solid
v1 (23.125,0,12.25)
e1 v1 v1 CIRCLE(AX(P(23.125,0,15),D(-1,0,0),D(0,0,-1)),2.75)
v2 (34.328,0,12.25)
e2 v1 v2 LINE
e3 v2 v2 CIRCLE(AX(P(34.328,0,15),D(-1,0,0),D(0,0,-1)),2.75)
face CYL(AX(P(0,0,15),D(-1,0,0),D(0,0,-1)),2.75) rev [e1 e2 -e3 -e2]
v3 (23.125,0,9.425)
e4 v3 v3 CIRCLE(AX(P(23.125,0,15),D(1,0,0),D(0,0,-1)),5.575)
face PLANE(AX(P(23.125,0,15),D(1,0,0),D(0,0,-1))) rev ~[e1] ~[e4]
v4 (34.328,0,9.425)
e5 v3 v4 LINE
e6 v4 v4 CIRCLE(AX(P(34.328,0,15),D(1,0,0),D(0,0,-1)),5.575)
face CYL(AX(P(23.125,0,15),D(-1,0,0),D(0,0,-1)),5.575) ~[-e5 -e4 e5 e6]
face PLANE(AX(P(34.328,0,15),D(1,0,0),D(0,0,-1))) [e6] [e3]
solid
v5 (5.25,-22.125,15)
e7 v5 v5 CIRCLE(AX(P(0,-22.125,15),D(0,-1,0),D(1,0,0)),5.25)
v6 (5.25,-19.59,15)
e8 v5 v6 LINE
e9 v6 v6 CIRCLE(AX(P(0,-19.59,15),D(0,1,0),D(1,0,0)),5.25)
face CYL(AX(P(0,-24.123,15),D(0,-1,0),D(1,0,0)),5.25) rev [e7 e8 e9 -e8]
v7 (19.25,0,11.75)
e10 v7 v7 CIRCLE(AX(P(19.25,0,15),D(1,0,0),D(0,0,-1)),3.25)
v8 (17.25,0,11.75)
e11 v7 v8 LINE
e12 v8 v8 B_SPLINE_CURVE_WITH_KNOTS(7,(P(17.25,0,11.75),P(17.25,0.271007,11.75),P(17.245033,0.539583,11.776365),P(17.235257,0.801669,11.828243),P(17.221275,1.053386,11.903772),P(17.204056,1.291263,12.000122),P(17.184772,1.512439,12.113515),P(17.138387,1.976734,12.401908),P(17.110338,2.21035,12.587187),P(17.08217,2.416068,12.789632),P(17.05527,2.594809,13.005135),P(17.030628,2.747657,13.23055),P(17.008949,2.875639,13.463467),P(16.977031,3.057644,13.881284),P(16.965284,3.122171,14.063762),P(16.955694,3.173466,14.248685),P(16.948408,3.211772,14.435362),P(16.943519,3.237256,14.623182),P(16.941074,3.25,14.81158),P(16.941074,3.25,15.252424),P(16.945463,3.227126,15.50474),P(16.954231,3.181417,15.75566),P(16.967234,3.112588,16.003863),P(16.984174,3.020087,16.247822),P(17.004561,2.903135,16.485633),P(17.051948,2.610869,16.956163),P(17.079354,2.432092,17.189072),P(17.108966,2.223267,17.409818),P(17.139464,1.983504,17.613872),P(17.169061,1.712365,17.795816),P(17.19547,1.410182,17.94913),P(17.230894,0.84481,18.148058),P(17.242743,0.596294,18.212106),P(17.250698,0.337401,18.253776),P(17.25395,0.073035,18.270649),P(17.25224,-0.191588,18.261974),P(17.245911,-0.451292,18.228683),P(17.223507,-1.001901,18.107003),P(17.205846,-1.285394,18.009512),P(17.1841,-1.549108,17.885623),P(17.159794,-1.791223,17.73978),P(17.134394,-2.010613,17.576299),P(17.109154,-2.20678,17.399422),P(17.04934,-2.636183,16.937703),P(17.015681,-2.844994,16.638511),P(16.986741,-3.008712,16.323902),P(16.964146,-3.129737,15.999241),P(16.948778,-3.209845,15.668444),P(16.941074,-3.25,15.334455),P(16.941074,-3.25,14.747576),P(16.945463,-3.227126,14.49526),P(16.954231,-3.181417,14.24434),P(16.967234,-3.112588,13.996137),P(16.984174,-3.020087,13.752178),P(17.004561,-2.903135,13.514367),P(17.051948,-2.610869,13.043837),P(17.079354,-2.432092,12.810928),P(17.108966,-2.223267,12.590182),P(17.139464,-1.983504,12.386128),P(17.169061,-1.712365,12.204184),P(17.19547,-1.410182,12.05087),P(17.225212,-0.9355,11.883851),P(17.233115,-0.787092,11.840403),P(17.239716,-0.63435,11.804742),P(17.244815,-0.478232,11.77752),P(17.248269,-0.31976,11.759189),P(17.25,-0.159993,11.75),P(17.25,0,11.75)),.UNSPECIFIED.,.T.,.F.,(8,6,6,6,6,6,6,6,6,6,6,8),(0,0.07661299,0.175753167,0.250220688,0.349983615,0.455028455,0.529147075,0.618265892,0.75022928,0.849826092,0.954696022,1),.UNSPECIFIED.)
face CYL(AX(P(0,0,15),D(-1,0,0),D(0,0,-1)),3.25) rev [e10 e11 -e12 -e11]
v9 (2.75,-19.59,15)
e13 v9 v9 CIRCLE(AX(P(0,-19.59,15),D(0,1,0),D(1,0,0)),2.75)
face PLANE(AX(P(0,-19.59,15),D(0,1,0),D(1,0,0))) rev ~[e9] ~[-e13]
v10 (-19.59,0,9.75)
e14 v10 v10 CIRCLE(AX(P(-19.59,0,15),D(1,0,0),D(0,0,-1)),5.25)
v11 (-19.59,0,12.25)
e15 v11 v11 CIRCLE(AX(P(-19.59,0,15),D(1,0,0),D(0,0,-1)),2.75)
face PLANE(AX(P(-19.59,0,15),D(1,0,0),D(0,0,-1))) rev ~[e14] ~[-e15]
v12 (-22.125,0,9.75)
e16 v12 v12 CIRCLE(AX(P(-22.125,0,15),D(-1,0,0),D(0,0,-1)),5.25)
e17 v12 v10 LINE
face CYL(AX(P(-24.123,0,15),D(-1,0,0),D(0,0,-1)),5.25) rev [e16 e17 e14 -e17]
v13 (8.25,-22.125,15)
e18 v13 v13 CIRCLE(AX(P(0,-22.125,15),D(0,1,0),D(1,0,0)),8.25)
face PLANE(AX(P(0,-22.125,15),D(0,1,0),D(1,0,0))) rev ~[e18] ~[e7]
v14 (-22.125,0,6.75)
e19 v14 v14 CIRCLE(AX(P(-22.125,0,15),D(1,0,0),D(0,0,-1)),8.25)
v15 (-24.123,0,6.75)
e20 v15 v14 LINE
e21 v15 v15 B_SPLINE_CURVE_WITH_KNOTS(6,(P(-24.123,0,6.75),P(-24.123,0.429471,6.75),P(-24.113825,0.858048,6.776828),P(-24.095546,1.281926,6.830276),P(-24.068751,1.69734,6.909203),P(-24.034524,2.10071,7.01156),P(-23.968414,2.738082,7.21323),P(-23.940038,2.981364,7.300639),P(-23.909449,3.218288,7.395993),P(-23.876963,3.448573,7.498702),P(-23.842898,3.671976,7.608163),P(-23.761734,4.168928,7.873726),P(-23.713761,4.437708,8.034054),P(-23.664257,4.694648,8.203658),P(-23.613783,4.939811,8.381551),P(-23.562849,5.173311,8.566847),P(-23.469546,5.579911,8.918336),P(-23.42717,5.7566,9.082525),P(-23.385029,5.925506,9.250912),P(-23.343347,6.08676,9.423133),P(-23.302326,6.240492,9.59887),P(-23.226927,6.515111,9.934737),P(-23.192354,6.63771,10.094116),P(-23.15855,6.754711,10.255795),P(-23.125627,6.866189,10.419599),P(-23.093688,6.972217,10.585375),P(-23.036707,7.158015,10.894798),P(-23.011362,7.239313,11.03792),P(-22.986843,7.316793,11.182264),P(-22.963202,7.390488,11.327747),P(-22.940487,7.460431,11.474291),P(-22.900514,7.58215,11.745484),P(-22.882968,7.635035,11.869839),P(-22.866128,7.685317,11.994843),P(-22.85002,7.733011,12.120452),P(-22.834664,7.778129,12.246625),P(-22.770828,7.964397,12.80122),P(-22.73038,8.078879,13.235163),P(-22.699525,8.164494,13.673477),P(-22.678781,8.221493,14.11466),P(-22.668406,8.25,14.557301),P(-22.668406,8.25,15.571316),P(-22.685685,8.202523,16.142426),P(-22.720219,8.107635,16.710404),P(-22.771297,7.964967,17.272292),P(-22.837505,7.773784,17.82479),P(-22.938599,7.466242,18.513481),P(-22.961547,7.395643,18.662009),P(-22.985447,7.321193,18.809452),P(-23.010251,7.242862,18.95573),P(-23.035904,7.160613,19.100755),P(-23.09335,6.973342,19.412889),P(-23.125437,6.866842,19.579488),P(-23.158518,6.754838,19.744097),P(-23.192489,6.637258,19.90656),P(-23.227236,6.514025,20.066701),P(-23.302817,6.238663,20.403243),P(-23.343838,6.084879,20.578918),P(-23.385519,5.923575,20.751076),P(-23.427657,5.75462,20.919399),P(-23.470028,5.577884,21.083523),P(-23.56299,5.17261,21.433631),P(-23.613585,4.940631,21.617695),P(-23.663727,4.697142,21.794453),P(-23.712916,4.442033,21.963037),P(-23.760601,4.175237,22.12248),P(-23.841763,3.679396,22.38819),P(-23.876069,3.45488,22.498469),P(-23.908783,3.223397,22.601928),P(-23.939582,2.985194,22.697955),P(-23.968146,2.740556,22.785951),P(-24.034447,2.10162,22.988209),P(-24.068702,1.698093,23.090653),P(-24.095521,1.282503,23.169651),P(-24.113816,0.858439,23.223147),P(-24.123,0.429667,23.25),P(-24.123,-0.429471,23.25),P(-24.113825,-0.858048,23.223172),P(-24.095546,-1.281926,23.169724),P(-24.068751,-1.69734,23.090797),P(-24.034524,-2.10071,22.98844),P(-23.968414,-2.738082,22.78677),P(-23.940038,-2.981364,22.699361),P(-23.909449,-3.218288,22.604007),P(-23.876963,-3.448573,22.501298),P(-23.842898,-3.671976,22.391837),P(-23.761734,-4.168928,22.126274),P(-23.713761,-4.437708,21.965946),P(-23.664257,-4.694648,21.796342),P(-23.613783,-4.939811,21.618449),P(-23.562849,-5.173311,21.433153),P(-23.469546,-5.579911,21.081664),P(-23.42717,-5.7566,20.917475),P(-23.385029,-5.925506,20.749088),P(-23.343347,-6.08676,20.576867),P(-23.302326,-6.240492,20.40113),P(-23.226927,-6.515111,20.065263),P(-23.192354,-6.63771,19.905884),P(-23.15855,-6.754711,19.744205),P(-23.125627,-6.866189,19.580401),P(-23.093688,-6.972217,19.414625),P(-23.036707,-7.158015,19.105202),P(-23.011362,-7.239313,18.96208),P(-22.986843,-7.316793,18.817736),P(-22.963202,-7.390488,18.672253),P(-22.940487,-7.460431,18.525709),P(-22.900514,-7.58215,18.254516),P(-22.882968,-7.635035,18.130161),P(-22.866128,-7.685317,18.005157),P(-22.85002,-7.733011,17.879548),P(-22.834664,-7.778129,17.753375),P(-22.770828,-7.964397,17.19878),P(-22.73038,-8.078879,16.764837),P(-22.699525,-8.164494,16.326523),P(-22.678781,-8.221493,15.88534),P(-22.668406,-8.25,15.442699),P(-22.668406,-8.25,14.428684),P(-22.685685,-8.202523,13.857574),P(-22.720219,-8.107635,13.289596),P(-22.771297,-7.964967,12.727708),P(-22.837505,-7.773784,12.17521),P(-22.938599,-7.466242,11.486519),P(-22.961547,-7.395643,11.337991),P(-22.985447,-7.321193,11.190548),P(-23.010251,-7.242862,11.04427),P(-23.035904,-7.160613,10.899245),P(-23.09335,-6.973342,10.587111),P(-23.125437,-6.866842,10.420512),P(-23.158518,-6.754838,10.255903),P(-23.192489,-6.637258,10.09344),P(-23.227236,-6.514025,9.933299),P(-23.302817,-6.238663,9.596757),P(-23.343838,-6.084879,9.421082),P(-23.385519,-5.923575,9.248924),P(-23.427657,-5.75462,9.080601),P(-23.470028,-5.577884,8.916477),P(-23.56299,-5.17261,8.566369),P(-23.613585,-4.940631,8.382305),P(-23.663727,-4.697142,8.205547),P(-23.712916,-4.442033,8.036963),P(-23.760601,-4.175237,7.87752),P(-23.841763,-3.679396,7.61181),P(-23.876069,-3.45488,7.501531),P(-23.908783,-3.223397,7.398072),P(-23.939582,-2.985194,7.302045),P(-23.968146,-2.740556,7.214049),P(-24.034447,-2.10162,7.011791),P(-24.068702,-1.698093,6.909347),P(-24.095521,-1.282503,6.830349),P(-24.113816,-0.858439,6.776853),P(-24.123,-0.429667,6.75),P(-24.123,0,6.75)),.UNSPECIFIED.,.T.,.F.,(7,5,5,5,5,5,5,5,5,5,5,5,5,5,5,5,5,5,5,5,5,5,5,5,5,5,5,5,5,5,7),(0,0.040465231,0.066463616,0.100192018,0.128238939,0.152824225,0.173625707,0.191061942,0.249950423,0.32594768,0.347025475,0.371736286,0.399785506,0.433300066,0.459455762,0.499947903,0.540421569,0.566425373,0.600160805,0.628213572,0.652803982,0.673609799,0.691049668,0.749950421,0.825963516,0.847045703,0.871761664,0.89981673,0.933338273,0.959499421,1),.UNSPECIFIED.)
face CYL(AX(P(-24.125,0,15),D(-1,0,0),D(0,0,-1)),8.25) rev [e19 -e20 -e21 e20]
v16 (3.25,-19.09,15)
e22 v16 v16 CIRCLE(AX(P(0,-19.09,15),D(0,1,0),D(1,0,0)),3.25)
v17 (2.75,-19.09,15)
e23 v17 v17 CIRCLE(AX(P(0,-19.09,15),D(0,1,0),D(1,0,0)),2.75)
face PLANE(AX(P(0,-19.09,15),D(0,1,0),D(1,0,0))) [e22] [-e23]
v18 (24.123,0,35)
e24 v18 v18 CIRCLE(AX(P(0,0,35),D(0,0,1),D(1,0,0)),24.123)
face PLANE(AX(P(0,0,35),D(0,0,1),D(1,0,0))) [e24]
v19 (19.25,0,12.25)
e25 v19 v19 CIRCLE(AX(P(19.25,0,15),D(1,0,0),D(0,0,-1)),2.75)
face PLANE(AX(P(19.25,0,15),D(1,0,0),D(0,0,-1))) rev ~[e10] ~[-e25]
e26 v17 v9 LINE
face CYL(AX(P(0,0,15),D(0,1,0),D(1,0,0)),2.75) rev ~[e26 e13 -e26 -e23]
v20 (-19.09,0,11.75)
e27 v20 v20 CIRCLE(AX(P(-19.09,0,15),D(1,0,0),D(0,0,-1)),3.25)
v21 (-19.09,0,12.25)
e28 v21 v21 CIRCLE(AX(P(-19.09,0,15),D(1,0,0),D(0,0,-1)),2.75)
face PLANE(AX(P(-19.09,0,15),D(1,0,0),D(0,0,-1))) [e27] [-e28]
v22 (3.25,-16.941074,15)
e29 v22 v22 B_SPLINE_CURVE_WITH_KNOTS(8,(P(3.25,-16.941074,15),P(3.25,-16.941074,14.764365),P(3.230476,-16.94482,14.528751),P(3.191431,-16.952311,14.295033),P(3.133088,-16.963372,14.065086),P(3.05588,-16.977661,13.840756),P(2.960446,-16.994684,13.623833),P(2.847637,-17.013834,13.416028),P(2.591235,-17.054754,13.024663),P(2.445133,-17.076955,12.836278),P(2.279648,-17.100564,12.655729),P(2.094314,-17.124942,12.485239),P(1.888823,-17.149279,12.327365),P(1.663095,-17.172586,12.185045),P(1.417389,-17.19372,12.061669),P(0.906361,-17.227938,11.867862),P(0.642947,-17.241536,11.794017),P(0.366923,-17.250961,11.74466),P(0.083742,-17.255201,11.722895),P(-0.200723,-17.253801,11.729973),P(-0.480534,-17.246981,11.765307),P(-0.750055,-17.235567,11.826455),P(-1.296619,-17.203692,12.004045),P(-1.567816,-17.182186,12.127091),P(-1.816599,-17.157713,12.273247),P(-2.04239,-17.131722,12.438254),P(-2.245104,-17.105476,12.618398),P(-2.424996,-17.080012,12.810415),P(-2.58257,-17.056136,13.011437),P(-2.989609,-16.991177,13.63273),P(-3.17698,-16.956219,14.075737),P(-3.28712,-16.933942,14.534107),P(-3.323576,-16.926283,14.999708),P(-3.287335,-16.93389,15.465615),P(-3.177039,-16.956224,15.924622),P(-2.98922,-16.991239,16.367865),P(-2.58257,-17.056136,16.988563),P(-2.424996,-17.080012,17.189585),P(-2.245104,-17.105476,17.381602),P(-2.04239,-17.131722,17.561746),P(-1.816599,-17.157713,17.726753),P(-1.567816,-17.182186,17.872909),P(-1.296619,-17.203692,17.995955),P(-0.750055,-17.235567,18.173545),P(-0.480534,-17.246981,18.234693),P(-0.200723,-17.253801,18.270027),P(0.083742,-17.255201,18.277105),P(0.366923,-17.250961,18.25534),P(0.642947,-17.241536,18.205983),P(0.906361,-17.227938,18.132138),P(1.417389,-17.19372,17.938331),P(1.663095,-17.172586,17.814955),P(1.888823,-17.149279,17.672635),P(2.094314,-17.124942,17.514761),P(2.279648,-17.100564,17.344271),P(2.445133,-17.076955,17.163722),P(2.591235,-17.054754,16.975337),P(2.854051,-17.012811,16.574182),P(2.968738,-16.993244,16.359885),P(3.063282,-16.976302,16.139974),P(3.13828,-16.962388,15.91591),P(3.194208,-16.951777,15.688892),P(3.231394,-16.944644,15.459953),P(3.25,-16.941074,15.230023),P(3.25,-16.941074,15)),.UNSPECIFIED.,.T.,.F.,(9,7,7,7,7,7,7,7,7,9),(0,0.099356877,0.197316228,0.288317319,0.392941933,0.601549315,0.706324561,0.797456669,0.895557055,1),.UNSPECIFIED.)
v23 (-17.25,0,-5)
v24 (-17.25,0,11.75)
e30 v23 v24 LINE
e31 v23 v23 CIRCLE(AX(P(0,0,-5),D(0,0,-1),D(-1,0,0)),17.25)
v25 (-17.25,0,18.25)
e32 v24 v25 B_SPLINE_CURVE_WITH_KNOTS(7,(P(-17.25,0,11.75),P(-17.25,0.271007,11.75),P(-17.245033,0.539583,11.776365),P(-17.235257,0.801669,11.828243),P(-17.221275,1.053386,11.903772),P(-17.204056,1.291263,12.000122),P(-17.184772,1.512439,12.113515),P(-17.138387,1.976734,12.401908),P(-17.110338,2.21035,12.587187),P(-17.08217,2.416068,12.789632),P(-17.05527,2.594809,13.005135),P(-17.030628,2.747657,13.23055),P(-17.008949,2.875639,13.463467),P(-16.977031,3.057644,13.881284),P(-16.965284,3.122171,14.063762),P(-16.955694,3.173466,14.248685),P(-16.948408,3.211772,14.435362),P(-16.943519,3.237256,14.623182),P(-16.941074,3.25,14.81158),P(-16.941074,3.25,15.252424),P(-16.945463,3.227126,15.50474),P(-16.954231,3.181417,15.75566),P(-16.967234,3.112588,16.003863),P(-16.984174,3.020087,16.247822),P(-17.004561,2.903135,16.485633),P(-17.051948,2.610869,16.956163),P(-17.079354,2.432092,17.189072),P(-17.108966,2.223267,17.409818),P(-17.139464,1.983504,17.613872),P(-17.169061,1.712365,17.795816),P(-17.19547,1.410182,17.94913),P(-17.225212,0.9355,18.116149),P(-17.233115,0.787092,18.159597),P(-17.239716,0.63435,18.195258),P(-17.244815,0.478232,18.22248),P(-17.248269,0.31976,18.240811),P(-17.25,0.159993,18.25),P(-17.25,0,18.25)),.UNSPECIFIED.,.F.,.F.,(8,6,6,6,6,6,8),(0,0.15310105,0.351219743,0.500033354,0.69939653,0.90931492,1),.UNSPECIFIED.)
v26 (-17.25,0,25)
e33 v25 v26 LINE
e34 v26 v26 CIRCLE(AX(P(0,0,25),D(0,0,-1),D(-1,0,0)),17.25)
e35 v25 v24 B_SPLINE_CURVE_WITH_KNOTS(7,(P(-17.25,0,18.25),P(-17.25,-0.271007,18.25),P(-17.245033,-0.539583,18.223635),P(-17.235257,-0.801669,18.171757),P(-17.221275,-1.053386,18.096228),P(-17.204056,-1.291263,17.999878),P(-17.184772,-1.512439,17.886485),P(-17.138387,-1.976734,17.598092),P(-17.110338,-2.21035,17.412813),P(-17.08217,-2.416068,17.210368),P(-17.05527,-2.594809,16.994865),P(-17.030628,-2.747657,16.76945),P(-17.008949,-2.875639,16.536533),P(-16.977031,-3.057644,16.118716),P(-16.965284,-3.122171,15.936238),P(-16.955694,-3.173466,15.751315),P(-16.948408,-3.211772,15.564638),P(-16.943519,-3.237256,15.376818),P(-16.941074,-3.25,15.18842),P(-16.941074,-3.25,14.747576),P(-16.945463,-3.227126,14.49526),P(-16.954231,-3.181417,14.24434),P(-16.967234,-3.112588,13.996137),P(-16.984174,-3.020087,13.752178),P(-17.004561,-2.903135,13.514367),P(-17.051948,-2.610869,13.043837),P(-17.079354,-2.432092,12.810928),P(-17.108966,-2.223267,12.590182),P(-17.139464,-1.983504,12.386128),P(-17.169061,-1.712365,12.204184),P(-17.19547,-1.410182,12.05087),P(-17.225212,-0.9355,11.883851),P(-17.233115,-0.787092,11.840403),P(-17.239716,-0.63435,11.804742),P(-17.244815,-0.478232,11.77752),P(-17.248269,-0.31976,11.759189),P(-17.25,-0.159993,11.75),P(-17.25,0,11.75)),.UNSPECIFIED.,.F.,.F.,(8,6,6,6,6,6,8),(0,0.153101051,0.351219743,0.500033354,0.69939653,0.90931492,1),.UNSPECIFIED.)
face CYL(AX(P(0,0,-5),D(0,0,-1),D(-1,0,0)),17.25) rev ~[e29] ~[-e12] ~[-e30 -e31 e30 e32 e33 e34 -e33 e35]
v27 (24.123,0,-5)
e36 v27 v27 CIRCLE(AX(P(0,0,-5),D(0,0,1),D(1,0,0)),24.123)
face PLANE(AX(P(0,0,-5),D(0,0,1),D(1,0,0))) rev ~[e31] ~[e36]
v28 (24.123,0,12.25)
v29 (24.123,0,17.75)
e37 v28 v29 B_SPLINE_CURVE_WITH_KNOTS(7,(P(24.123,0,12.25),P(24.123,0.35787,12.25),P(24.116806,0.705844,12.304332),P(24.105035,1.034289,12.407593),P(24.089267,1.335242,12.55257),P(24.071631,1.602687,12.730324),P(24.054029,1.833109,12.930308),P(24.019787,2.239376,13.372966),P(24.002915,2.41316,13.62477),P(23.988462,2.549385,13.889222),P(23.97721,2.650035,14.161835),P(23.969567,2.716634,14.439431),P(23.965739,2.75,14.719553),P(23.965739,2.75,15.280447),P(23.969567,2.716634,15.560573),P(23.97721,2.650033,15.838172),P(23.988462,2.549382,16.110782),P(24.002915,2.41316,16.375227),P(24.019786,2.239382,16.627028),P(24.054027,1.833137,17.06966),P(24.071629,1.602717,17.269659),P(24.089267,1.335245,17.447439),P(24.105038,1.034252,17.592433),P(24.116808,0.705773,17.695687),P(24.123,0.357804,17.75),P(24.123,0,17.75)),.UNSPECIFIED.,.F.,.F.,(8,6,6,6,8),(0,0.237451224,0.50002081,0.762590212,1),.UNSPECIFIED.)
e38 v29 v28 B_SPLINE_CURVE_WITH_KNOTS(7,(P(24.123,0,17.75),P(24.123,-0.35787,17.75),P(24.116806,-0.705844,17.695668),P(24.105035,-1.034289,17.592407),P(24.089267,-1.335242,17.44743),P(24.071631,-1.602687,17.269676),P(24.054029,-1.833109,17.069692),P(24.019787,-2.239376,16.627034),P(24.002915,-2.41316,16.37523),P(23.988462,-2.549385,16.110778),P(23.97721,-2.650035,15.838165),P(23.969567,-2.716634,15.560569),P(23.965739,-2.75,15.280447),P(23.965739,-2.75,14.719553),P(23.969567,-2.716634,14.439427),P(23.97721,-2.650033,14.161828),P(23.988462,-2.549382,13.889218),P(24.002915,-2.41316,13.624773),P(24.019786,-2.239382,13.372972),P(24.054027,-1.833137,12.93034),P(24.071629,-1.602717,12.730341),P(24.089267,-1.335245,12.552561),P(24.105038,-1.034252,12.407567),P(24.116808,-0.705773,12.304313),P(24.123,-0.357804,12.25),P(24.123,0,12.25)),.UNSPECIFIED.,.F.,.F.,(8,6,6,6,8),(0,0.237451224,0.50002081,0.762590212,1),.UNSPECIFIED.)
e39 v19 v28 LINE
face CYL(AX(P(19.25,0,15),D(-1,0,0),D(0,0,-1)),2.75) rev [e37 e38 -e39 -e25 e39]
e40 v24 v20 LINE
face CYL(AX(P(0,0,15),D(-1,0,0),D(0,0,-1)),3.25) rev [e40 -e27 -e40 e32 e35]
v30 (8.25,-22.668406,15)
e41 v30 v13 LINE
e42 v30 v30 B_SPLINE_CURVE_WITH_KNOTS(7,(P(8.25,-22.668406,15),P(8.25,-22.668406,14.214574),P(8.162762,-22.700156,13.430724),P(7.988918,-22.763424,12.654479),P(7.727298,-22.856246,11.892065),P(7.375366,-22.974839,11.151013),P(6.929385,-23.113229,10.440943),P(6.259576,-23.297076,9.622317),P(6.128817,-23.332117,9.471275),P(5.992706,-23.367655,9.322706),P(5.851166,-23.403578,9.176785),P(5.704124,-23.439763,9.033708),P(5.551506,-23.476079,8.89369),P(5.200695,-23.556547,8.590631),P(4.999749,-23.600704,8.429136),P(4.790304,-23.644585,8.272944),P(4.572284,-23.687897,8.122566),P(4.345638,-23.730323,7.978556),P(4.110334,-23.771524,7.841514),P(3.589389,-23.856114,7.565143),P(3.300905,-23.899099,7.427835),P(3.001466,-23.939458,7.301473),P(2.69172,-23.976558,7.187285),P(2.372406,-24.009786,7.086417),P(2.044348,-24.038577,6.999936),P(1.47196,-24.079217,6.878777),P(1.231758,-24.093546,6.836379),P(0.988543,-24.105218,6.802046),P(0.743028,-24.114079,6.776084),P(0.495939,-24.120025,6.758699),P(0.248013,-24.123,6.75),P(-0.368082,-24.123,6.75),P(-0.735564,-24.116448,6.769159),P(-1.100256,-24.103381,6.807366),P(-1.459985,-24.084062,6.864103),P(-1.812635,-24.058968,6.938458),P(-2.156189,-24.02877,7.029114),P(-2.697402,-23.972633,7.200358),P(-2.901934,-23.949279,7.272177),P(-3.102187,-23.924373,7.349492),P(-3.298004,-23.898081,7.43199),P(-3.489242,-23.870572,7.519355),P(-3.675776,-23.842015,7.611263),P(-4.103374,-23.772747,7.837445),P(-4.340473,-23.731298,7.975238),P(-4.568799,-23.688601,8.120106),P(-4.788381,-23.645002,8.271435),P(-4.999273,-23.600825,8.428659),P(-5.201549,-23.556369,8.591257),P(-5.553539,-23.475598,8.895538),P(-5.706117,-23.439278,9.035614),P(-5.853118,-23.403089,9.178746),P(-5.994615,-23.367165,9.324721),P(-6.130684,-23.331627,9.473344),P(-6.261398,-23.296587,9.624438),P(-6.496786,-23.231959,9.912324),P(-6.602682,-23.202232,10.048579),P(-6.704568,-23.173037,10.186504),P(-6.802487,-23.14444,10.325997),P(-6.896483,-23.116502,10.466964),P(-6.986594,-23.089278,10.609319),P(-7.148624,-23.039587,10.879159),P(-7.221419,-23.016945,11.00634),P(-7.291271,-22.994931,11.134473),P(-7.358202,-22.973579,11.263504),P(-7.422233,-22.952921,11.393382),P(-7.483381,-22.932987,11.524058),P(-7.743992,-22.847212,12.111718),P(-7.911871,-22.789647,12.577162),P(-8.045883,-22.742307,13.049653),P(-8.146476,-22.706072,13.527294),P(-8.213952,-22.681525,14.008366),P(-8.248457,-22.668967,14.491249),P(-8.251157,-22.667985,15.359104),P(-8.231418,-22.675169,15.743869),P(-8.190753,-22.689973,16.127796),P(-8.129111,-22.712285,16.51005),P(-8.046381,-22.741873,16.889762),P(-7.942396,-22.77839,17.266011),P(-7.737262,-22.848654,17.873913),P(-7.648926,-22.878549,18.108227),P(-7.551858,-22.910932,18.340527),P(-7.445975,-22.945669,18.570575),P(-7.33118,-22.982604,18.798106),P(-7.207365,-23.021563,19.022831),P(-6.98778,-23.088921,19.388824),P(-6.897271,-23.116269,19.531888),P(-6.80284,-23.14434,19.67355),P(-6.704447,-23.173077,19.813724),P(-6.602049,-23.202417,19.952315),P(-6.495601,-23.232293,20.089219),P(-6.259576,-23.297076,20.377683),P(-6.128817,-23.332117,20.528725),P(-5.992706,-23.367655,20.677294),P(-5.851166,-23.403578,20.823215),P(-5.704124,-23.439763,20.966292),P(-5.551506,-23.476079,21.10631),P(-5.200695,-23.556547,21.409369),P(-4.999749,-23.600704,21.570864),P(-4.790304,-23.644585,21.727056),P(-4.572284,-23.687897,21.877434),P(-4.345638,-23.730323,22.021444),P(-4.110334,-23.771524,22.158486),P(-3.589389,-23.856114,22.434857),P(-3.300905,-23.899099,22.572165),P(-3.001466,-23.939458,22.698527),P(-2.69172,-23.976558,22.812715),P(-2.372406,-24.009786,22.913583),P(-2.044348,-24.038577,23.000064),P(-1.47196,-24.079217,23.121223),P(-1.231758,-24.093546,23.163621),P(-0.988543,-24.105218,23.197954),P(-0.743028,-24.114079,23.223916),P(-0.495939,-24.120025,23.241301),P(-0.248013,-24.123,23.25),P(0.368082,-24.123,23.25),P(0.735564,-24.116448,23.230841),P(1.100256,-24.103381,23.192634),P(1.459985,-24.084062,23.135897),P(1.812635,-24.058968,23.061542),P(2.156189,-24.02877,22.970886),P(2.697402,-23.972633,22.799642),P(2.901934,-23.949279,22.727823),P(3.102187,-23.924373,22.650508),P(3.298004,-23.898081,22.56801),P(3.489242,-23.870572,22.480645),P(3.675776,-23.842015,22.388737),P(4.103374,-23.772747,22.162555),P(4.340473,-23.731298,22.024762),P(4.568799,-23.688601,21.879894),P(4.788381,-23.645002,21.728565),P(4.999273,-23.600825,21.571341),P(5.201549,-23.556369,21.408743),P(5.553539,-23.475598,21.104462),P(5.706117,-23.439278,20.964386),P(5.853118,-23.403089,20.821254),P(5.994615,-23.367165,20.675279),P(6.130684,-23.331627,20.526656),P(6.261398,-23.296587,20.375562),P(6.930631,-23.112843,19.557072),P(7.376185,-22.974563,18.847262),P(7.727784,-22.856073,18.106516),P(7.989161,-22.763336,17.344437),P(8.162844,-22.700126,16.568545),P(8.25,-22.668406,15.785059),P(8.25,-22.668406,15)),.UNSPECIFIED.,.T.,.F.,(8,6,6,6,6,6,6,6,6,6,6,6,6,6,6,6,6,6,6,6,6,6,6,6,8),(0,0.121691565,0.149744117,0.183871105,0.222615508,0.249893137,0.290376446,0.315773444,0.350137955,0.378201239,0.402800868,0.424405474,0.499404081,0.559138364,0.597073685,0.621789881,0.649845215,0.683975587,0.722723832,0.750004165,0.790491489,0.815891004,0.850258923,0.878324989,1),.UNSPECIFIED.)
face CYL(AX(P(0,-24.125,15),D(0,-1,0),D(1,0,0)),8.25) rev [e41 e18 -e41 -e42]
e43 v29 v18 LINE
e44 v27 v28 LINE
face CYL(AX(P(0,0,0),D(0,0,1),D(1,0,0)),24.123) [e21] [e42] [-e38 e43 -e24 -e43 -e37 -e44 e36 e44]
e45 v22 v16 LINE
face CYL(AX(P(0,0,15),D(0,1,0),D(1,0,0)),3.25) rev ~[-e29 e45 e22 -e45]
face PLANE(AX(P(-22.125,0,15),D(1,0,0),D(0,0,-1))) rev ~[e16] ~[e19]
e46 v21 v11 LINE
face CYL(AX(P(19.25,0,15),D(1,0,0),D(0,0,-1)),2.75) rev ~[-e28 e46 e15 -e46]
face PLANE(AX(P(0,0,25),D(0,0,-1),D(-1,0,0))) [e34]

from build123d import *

# Parameters (mm, degrees)
SKETCH1_R                = 24.123
BOSS_EXTRUDE1_DEPTH      = 35
BOSS_EXTRUDE1_DEPTH_BACK = 5
SKETCH2_R                = 3.25
CUT_EXTRUDE2_DEPTH       = 19.25
CUT_EXTRUDE2_DEPTH_BACK  = 19.09
SKETCH4_R                = 3.25
CUT_EXTRUDE3_DEPTH       = 19.09
CUT_EXTRUDE8_START       = -24.123
SKETCH5_R                = 5.25
CUT_EXTRUDE8_DEPTH       = 4.533
CUT_EXTRUDE9_START       = -24.123
SKETCH6_R                = 5.25
CUT_EXTRUDE9_DEPTH       = 4.533
SKETCH7_R                = 17.25
CUT_EXTRUDE10_DEPTH      = 30
CUT_EXTRUDE11_START      = 19.25
SKETCH8_R                = 2.75
CUT_EXTRUDE11_DEPTH      = 24.873
CUT_EXTRUDE11_DEPTH_BACK = 50
BOSS_EXTRUDE2_START      = 23.125
SKETCH9_R                = 5.575
BOSS_EXTRUDE2_DEPTH      = 11.203
CUT_EXTRUDE12_DEPTH      = 50
CUT_EXTRUDE13_START      = -24.125
SKETCH11_R               = 8.25
CUT_EXTRUDE13_DEPTH      = 2
CUT_EXTRUDE14_START      = -24.125
SKETCH12_R               = 8.25
CUT_EXTRUDE14_DEPTH      = 2
SKETCH13_R               = 2.75
CUT_EXTRUDE15_DEPTH      = 30


with BuildPart() as part:
    # Sketch1 → Boss-Extrude1 (new body, two sides)
    with BuildSketch(Plane.XY) as boss_extrude1_sk:
        Circle(SKETCH1_R)
    extrude(amount=BOSS_EXTRUDE1_DEPTH)
    extrude(boss_extrude1_sk.sketch, amount=-BOSS_EXTRUDE1_DEPTH_BACK)

    # Sketch2 → Cut-Extrude2 (cut, two sides)
    with BuildSketch(Plane(origin=(0, 0, 0), x_dir=(0, 0, -1), z_dir=(1, 0, 0))) as cut_extrude2_sk:
        with Locations((-15, 0)):
            Circle(SKETCH2_R)
    extrude(amount=CUT_EXTRUDE2_DEPTH, mode=Mode.SUBTRACT)
    extrude(cut_extrude2_sk.sketch, amount=-CUT_EXTRUDE2_DEPTH_BACK, mode=Mode.SUBTRACT)

    # Sketch4 → Cut-Extrude3 (cut)
    with BuildSketch(Plane(origin=(0, 0, 0), x_dir=(1, 0, 0), z_dir=(0, 1, 0))):
        with Locations((0, -15)):
            Circle(SKETCH4_R)
    extrude(amount=-CUT_EXTRUDE3_DEPTH, mode=Mode.SUBTRACT)

    # Sketch5 → Cut-Extrude8 (cut)
    with BuildSketch(Plane(origin=(0, 0, 0), x_dir=(0, 0, -1), z_dir=(1, 0, 0)).offset(CUT_EXTRUDE8_START)):
        with Locations((-15, 0)):
            Circle(SKETCH5_R)
    extrude(amount=CUT_EXTRUDE8_DEPTH, mode=Mode.SUBTRACT)

    # Sketch6 → Cut-Extrude9 (cut)
    with BuildSketch(Plane(origin=(0, 0, 0), x_dir=(1, 0, 0), z_dir=(0, 1, 0)).offset(CUT_EXTRUDE9_START)):
        with Locations((0, -15)):
            Circle(SKETCH6_R)
    extrude(amount=CUT_EXTRUDE9_DEPTH, mode=Mode.SUBTRACT)

    # Sketch7 → Cut-Extrude10 (cut)
    with BuildSketch(Plane(origin=(0, 0, -5), x_dir=(-1, 0, 0), z_dir=(0, 0, -1))):
        Circle(SKETCH7_R)
    extrude(amount=-CUT_EXTRUDE10_DEPTH, mode=Mode.SUBTRACT)

    # Sketch8 → Cut-Extrude11 (cut, two sides)
    with BuildSketch(Plane(origin=(0, 0, 0), x_dir=(0, 0, -1), z_dir=(1, 0, 0)).offset(CUT_EXTRUDE11_START)) as cut_extrude11_sk:
        with Locations((-15, 0)):
            Circle(SKETCH8_R)
    extrude(amount=CUT_EXTRUDE11_DEPTH, mode=Mode.SUBTRACT)
    extrude(cut_extrude11_sk.sketch, amount=-CUT_EXTRUDE11_DEPTH_BACK, mode=Mode.SUBTRACT)

    # Sketch11 → Cut-Extrude13 (cut)
    with BuildSketch(Plane(origin=(0, 0, 0), x_dir=(0, 0, -1), z_dir=(1, 0, 0)).offset(CUT_EXTRUDE13_START)):
        with Locations((-15, 0)):
            Circle(SKETCH11_R)
    extrude(amount=CUT_EXTRUDE13_DEPTH, mode=Mode.SUBTRACT)

    # Sketch12 → Cut-Extrude14 (cut)
    with BuildSketch(Plane(origin=(0, 0, 0), x_dir=(1, 0, 0), z_dir=(0, 1, 0)).offset(CUT_EXTRUDE14_START)):
        with Locations((0, -15)):
            Circle(SKETCH12_R)
    extrude(amount=CUT_EXTRUDE14_DEPTH, mode=Mode.SUBTRACT)

    # Sketch13 → Cut-Extrude15 (cut)
    with BuildSketch(Plane(origin=(0, 0, 0), x_dir=(1, 0, 0), z_dir=(0, 1, 0))):
        with Locations((0, -15)):
            Circle(SKETCH13_R)
    extrude(amount=-CUT_EXTRUDE15_DEPTH, mode=Mode.SUBTRACT)


with BuildPart() as body_2:
    # Sketch9 → Boss-Extrude2 (new body)
    with BuildSketch(Plane(origin=(0, 0, 0), x_dir=(0, 0, -1), z_dir=(1, 0, 0)).offset(BOSS_EXTRUDE2_START)):
        with Locations((-15, 0)):
            Circle(SKETCH9_R)
    extrude(amount=BOSS_EXTRUDE2_DEPTH)

    # Sketch8 → Cut-Extrude12 (cut)
    with BuildSketch(Plane(origin=(0, 0, 0), x_dir=(0, 0, -1), z_dir=(1, 0, 0))):
        with Locations((-15, 0)):
            Circle(SKETCH8_R)
    extrude(amount=CUT_EXTRUDE12_DEPTH, mode=Mode.SUBTRACT)


solid = Compound([part.part, body_2.part])
